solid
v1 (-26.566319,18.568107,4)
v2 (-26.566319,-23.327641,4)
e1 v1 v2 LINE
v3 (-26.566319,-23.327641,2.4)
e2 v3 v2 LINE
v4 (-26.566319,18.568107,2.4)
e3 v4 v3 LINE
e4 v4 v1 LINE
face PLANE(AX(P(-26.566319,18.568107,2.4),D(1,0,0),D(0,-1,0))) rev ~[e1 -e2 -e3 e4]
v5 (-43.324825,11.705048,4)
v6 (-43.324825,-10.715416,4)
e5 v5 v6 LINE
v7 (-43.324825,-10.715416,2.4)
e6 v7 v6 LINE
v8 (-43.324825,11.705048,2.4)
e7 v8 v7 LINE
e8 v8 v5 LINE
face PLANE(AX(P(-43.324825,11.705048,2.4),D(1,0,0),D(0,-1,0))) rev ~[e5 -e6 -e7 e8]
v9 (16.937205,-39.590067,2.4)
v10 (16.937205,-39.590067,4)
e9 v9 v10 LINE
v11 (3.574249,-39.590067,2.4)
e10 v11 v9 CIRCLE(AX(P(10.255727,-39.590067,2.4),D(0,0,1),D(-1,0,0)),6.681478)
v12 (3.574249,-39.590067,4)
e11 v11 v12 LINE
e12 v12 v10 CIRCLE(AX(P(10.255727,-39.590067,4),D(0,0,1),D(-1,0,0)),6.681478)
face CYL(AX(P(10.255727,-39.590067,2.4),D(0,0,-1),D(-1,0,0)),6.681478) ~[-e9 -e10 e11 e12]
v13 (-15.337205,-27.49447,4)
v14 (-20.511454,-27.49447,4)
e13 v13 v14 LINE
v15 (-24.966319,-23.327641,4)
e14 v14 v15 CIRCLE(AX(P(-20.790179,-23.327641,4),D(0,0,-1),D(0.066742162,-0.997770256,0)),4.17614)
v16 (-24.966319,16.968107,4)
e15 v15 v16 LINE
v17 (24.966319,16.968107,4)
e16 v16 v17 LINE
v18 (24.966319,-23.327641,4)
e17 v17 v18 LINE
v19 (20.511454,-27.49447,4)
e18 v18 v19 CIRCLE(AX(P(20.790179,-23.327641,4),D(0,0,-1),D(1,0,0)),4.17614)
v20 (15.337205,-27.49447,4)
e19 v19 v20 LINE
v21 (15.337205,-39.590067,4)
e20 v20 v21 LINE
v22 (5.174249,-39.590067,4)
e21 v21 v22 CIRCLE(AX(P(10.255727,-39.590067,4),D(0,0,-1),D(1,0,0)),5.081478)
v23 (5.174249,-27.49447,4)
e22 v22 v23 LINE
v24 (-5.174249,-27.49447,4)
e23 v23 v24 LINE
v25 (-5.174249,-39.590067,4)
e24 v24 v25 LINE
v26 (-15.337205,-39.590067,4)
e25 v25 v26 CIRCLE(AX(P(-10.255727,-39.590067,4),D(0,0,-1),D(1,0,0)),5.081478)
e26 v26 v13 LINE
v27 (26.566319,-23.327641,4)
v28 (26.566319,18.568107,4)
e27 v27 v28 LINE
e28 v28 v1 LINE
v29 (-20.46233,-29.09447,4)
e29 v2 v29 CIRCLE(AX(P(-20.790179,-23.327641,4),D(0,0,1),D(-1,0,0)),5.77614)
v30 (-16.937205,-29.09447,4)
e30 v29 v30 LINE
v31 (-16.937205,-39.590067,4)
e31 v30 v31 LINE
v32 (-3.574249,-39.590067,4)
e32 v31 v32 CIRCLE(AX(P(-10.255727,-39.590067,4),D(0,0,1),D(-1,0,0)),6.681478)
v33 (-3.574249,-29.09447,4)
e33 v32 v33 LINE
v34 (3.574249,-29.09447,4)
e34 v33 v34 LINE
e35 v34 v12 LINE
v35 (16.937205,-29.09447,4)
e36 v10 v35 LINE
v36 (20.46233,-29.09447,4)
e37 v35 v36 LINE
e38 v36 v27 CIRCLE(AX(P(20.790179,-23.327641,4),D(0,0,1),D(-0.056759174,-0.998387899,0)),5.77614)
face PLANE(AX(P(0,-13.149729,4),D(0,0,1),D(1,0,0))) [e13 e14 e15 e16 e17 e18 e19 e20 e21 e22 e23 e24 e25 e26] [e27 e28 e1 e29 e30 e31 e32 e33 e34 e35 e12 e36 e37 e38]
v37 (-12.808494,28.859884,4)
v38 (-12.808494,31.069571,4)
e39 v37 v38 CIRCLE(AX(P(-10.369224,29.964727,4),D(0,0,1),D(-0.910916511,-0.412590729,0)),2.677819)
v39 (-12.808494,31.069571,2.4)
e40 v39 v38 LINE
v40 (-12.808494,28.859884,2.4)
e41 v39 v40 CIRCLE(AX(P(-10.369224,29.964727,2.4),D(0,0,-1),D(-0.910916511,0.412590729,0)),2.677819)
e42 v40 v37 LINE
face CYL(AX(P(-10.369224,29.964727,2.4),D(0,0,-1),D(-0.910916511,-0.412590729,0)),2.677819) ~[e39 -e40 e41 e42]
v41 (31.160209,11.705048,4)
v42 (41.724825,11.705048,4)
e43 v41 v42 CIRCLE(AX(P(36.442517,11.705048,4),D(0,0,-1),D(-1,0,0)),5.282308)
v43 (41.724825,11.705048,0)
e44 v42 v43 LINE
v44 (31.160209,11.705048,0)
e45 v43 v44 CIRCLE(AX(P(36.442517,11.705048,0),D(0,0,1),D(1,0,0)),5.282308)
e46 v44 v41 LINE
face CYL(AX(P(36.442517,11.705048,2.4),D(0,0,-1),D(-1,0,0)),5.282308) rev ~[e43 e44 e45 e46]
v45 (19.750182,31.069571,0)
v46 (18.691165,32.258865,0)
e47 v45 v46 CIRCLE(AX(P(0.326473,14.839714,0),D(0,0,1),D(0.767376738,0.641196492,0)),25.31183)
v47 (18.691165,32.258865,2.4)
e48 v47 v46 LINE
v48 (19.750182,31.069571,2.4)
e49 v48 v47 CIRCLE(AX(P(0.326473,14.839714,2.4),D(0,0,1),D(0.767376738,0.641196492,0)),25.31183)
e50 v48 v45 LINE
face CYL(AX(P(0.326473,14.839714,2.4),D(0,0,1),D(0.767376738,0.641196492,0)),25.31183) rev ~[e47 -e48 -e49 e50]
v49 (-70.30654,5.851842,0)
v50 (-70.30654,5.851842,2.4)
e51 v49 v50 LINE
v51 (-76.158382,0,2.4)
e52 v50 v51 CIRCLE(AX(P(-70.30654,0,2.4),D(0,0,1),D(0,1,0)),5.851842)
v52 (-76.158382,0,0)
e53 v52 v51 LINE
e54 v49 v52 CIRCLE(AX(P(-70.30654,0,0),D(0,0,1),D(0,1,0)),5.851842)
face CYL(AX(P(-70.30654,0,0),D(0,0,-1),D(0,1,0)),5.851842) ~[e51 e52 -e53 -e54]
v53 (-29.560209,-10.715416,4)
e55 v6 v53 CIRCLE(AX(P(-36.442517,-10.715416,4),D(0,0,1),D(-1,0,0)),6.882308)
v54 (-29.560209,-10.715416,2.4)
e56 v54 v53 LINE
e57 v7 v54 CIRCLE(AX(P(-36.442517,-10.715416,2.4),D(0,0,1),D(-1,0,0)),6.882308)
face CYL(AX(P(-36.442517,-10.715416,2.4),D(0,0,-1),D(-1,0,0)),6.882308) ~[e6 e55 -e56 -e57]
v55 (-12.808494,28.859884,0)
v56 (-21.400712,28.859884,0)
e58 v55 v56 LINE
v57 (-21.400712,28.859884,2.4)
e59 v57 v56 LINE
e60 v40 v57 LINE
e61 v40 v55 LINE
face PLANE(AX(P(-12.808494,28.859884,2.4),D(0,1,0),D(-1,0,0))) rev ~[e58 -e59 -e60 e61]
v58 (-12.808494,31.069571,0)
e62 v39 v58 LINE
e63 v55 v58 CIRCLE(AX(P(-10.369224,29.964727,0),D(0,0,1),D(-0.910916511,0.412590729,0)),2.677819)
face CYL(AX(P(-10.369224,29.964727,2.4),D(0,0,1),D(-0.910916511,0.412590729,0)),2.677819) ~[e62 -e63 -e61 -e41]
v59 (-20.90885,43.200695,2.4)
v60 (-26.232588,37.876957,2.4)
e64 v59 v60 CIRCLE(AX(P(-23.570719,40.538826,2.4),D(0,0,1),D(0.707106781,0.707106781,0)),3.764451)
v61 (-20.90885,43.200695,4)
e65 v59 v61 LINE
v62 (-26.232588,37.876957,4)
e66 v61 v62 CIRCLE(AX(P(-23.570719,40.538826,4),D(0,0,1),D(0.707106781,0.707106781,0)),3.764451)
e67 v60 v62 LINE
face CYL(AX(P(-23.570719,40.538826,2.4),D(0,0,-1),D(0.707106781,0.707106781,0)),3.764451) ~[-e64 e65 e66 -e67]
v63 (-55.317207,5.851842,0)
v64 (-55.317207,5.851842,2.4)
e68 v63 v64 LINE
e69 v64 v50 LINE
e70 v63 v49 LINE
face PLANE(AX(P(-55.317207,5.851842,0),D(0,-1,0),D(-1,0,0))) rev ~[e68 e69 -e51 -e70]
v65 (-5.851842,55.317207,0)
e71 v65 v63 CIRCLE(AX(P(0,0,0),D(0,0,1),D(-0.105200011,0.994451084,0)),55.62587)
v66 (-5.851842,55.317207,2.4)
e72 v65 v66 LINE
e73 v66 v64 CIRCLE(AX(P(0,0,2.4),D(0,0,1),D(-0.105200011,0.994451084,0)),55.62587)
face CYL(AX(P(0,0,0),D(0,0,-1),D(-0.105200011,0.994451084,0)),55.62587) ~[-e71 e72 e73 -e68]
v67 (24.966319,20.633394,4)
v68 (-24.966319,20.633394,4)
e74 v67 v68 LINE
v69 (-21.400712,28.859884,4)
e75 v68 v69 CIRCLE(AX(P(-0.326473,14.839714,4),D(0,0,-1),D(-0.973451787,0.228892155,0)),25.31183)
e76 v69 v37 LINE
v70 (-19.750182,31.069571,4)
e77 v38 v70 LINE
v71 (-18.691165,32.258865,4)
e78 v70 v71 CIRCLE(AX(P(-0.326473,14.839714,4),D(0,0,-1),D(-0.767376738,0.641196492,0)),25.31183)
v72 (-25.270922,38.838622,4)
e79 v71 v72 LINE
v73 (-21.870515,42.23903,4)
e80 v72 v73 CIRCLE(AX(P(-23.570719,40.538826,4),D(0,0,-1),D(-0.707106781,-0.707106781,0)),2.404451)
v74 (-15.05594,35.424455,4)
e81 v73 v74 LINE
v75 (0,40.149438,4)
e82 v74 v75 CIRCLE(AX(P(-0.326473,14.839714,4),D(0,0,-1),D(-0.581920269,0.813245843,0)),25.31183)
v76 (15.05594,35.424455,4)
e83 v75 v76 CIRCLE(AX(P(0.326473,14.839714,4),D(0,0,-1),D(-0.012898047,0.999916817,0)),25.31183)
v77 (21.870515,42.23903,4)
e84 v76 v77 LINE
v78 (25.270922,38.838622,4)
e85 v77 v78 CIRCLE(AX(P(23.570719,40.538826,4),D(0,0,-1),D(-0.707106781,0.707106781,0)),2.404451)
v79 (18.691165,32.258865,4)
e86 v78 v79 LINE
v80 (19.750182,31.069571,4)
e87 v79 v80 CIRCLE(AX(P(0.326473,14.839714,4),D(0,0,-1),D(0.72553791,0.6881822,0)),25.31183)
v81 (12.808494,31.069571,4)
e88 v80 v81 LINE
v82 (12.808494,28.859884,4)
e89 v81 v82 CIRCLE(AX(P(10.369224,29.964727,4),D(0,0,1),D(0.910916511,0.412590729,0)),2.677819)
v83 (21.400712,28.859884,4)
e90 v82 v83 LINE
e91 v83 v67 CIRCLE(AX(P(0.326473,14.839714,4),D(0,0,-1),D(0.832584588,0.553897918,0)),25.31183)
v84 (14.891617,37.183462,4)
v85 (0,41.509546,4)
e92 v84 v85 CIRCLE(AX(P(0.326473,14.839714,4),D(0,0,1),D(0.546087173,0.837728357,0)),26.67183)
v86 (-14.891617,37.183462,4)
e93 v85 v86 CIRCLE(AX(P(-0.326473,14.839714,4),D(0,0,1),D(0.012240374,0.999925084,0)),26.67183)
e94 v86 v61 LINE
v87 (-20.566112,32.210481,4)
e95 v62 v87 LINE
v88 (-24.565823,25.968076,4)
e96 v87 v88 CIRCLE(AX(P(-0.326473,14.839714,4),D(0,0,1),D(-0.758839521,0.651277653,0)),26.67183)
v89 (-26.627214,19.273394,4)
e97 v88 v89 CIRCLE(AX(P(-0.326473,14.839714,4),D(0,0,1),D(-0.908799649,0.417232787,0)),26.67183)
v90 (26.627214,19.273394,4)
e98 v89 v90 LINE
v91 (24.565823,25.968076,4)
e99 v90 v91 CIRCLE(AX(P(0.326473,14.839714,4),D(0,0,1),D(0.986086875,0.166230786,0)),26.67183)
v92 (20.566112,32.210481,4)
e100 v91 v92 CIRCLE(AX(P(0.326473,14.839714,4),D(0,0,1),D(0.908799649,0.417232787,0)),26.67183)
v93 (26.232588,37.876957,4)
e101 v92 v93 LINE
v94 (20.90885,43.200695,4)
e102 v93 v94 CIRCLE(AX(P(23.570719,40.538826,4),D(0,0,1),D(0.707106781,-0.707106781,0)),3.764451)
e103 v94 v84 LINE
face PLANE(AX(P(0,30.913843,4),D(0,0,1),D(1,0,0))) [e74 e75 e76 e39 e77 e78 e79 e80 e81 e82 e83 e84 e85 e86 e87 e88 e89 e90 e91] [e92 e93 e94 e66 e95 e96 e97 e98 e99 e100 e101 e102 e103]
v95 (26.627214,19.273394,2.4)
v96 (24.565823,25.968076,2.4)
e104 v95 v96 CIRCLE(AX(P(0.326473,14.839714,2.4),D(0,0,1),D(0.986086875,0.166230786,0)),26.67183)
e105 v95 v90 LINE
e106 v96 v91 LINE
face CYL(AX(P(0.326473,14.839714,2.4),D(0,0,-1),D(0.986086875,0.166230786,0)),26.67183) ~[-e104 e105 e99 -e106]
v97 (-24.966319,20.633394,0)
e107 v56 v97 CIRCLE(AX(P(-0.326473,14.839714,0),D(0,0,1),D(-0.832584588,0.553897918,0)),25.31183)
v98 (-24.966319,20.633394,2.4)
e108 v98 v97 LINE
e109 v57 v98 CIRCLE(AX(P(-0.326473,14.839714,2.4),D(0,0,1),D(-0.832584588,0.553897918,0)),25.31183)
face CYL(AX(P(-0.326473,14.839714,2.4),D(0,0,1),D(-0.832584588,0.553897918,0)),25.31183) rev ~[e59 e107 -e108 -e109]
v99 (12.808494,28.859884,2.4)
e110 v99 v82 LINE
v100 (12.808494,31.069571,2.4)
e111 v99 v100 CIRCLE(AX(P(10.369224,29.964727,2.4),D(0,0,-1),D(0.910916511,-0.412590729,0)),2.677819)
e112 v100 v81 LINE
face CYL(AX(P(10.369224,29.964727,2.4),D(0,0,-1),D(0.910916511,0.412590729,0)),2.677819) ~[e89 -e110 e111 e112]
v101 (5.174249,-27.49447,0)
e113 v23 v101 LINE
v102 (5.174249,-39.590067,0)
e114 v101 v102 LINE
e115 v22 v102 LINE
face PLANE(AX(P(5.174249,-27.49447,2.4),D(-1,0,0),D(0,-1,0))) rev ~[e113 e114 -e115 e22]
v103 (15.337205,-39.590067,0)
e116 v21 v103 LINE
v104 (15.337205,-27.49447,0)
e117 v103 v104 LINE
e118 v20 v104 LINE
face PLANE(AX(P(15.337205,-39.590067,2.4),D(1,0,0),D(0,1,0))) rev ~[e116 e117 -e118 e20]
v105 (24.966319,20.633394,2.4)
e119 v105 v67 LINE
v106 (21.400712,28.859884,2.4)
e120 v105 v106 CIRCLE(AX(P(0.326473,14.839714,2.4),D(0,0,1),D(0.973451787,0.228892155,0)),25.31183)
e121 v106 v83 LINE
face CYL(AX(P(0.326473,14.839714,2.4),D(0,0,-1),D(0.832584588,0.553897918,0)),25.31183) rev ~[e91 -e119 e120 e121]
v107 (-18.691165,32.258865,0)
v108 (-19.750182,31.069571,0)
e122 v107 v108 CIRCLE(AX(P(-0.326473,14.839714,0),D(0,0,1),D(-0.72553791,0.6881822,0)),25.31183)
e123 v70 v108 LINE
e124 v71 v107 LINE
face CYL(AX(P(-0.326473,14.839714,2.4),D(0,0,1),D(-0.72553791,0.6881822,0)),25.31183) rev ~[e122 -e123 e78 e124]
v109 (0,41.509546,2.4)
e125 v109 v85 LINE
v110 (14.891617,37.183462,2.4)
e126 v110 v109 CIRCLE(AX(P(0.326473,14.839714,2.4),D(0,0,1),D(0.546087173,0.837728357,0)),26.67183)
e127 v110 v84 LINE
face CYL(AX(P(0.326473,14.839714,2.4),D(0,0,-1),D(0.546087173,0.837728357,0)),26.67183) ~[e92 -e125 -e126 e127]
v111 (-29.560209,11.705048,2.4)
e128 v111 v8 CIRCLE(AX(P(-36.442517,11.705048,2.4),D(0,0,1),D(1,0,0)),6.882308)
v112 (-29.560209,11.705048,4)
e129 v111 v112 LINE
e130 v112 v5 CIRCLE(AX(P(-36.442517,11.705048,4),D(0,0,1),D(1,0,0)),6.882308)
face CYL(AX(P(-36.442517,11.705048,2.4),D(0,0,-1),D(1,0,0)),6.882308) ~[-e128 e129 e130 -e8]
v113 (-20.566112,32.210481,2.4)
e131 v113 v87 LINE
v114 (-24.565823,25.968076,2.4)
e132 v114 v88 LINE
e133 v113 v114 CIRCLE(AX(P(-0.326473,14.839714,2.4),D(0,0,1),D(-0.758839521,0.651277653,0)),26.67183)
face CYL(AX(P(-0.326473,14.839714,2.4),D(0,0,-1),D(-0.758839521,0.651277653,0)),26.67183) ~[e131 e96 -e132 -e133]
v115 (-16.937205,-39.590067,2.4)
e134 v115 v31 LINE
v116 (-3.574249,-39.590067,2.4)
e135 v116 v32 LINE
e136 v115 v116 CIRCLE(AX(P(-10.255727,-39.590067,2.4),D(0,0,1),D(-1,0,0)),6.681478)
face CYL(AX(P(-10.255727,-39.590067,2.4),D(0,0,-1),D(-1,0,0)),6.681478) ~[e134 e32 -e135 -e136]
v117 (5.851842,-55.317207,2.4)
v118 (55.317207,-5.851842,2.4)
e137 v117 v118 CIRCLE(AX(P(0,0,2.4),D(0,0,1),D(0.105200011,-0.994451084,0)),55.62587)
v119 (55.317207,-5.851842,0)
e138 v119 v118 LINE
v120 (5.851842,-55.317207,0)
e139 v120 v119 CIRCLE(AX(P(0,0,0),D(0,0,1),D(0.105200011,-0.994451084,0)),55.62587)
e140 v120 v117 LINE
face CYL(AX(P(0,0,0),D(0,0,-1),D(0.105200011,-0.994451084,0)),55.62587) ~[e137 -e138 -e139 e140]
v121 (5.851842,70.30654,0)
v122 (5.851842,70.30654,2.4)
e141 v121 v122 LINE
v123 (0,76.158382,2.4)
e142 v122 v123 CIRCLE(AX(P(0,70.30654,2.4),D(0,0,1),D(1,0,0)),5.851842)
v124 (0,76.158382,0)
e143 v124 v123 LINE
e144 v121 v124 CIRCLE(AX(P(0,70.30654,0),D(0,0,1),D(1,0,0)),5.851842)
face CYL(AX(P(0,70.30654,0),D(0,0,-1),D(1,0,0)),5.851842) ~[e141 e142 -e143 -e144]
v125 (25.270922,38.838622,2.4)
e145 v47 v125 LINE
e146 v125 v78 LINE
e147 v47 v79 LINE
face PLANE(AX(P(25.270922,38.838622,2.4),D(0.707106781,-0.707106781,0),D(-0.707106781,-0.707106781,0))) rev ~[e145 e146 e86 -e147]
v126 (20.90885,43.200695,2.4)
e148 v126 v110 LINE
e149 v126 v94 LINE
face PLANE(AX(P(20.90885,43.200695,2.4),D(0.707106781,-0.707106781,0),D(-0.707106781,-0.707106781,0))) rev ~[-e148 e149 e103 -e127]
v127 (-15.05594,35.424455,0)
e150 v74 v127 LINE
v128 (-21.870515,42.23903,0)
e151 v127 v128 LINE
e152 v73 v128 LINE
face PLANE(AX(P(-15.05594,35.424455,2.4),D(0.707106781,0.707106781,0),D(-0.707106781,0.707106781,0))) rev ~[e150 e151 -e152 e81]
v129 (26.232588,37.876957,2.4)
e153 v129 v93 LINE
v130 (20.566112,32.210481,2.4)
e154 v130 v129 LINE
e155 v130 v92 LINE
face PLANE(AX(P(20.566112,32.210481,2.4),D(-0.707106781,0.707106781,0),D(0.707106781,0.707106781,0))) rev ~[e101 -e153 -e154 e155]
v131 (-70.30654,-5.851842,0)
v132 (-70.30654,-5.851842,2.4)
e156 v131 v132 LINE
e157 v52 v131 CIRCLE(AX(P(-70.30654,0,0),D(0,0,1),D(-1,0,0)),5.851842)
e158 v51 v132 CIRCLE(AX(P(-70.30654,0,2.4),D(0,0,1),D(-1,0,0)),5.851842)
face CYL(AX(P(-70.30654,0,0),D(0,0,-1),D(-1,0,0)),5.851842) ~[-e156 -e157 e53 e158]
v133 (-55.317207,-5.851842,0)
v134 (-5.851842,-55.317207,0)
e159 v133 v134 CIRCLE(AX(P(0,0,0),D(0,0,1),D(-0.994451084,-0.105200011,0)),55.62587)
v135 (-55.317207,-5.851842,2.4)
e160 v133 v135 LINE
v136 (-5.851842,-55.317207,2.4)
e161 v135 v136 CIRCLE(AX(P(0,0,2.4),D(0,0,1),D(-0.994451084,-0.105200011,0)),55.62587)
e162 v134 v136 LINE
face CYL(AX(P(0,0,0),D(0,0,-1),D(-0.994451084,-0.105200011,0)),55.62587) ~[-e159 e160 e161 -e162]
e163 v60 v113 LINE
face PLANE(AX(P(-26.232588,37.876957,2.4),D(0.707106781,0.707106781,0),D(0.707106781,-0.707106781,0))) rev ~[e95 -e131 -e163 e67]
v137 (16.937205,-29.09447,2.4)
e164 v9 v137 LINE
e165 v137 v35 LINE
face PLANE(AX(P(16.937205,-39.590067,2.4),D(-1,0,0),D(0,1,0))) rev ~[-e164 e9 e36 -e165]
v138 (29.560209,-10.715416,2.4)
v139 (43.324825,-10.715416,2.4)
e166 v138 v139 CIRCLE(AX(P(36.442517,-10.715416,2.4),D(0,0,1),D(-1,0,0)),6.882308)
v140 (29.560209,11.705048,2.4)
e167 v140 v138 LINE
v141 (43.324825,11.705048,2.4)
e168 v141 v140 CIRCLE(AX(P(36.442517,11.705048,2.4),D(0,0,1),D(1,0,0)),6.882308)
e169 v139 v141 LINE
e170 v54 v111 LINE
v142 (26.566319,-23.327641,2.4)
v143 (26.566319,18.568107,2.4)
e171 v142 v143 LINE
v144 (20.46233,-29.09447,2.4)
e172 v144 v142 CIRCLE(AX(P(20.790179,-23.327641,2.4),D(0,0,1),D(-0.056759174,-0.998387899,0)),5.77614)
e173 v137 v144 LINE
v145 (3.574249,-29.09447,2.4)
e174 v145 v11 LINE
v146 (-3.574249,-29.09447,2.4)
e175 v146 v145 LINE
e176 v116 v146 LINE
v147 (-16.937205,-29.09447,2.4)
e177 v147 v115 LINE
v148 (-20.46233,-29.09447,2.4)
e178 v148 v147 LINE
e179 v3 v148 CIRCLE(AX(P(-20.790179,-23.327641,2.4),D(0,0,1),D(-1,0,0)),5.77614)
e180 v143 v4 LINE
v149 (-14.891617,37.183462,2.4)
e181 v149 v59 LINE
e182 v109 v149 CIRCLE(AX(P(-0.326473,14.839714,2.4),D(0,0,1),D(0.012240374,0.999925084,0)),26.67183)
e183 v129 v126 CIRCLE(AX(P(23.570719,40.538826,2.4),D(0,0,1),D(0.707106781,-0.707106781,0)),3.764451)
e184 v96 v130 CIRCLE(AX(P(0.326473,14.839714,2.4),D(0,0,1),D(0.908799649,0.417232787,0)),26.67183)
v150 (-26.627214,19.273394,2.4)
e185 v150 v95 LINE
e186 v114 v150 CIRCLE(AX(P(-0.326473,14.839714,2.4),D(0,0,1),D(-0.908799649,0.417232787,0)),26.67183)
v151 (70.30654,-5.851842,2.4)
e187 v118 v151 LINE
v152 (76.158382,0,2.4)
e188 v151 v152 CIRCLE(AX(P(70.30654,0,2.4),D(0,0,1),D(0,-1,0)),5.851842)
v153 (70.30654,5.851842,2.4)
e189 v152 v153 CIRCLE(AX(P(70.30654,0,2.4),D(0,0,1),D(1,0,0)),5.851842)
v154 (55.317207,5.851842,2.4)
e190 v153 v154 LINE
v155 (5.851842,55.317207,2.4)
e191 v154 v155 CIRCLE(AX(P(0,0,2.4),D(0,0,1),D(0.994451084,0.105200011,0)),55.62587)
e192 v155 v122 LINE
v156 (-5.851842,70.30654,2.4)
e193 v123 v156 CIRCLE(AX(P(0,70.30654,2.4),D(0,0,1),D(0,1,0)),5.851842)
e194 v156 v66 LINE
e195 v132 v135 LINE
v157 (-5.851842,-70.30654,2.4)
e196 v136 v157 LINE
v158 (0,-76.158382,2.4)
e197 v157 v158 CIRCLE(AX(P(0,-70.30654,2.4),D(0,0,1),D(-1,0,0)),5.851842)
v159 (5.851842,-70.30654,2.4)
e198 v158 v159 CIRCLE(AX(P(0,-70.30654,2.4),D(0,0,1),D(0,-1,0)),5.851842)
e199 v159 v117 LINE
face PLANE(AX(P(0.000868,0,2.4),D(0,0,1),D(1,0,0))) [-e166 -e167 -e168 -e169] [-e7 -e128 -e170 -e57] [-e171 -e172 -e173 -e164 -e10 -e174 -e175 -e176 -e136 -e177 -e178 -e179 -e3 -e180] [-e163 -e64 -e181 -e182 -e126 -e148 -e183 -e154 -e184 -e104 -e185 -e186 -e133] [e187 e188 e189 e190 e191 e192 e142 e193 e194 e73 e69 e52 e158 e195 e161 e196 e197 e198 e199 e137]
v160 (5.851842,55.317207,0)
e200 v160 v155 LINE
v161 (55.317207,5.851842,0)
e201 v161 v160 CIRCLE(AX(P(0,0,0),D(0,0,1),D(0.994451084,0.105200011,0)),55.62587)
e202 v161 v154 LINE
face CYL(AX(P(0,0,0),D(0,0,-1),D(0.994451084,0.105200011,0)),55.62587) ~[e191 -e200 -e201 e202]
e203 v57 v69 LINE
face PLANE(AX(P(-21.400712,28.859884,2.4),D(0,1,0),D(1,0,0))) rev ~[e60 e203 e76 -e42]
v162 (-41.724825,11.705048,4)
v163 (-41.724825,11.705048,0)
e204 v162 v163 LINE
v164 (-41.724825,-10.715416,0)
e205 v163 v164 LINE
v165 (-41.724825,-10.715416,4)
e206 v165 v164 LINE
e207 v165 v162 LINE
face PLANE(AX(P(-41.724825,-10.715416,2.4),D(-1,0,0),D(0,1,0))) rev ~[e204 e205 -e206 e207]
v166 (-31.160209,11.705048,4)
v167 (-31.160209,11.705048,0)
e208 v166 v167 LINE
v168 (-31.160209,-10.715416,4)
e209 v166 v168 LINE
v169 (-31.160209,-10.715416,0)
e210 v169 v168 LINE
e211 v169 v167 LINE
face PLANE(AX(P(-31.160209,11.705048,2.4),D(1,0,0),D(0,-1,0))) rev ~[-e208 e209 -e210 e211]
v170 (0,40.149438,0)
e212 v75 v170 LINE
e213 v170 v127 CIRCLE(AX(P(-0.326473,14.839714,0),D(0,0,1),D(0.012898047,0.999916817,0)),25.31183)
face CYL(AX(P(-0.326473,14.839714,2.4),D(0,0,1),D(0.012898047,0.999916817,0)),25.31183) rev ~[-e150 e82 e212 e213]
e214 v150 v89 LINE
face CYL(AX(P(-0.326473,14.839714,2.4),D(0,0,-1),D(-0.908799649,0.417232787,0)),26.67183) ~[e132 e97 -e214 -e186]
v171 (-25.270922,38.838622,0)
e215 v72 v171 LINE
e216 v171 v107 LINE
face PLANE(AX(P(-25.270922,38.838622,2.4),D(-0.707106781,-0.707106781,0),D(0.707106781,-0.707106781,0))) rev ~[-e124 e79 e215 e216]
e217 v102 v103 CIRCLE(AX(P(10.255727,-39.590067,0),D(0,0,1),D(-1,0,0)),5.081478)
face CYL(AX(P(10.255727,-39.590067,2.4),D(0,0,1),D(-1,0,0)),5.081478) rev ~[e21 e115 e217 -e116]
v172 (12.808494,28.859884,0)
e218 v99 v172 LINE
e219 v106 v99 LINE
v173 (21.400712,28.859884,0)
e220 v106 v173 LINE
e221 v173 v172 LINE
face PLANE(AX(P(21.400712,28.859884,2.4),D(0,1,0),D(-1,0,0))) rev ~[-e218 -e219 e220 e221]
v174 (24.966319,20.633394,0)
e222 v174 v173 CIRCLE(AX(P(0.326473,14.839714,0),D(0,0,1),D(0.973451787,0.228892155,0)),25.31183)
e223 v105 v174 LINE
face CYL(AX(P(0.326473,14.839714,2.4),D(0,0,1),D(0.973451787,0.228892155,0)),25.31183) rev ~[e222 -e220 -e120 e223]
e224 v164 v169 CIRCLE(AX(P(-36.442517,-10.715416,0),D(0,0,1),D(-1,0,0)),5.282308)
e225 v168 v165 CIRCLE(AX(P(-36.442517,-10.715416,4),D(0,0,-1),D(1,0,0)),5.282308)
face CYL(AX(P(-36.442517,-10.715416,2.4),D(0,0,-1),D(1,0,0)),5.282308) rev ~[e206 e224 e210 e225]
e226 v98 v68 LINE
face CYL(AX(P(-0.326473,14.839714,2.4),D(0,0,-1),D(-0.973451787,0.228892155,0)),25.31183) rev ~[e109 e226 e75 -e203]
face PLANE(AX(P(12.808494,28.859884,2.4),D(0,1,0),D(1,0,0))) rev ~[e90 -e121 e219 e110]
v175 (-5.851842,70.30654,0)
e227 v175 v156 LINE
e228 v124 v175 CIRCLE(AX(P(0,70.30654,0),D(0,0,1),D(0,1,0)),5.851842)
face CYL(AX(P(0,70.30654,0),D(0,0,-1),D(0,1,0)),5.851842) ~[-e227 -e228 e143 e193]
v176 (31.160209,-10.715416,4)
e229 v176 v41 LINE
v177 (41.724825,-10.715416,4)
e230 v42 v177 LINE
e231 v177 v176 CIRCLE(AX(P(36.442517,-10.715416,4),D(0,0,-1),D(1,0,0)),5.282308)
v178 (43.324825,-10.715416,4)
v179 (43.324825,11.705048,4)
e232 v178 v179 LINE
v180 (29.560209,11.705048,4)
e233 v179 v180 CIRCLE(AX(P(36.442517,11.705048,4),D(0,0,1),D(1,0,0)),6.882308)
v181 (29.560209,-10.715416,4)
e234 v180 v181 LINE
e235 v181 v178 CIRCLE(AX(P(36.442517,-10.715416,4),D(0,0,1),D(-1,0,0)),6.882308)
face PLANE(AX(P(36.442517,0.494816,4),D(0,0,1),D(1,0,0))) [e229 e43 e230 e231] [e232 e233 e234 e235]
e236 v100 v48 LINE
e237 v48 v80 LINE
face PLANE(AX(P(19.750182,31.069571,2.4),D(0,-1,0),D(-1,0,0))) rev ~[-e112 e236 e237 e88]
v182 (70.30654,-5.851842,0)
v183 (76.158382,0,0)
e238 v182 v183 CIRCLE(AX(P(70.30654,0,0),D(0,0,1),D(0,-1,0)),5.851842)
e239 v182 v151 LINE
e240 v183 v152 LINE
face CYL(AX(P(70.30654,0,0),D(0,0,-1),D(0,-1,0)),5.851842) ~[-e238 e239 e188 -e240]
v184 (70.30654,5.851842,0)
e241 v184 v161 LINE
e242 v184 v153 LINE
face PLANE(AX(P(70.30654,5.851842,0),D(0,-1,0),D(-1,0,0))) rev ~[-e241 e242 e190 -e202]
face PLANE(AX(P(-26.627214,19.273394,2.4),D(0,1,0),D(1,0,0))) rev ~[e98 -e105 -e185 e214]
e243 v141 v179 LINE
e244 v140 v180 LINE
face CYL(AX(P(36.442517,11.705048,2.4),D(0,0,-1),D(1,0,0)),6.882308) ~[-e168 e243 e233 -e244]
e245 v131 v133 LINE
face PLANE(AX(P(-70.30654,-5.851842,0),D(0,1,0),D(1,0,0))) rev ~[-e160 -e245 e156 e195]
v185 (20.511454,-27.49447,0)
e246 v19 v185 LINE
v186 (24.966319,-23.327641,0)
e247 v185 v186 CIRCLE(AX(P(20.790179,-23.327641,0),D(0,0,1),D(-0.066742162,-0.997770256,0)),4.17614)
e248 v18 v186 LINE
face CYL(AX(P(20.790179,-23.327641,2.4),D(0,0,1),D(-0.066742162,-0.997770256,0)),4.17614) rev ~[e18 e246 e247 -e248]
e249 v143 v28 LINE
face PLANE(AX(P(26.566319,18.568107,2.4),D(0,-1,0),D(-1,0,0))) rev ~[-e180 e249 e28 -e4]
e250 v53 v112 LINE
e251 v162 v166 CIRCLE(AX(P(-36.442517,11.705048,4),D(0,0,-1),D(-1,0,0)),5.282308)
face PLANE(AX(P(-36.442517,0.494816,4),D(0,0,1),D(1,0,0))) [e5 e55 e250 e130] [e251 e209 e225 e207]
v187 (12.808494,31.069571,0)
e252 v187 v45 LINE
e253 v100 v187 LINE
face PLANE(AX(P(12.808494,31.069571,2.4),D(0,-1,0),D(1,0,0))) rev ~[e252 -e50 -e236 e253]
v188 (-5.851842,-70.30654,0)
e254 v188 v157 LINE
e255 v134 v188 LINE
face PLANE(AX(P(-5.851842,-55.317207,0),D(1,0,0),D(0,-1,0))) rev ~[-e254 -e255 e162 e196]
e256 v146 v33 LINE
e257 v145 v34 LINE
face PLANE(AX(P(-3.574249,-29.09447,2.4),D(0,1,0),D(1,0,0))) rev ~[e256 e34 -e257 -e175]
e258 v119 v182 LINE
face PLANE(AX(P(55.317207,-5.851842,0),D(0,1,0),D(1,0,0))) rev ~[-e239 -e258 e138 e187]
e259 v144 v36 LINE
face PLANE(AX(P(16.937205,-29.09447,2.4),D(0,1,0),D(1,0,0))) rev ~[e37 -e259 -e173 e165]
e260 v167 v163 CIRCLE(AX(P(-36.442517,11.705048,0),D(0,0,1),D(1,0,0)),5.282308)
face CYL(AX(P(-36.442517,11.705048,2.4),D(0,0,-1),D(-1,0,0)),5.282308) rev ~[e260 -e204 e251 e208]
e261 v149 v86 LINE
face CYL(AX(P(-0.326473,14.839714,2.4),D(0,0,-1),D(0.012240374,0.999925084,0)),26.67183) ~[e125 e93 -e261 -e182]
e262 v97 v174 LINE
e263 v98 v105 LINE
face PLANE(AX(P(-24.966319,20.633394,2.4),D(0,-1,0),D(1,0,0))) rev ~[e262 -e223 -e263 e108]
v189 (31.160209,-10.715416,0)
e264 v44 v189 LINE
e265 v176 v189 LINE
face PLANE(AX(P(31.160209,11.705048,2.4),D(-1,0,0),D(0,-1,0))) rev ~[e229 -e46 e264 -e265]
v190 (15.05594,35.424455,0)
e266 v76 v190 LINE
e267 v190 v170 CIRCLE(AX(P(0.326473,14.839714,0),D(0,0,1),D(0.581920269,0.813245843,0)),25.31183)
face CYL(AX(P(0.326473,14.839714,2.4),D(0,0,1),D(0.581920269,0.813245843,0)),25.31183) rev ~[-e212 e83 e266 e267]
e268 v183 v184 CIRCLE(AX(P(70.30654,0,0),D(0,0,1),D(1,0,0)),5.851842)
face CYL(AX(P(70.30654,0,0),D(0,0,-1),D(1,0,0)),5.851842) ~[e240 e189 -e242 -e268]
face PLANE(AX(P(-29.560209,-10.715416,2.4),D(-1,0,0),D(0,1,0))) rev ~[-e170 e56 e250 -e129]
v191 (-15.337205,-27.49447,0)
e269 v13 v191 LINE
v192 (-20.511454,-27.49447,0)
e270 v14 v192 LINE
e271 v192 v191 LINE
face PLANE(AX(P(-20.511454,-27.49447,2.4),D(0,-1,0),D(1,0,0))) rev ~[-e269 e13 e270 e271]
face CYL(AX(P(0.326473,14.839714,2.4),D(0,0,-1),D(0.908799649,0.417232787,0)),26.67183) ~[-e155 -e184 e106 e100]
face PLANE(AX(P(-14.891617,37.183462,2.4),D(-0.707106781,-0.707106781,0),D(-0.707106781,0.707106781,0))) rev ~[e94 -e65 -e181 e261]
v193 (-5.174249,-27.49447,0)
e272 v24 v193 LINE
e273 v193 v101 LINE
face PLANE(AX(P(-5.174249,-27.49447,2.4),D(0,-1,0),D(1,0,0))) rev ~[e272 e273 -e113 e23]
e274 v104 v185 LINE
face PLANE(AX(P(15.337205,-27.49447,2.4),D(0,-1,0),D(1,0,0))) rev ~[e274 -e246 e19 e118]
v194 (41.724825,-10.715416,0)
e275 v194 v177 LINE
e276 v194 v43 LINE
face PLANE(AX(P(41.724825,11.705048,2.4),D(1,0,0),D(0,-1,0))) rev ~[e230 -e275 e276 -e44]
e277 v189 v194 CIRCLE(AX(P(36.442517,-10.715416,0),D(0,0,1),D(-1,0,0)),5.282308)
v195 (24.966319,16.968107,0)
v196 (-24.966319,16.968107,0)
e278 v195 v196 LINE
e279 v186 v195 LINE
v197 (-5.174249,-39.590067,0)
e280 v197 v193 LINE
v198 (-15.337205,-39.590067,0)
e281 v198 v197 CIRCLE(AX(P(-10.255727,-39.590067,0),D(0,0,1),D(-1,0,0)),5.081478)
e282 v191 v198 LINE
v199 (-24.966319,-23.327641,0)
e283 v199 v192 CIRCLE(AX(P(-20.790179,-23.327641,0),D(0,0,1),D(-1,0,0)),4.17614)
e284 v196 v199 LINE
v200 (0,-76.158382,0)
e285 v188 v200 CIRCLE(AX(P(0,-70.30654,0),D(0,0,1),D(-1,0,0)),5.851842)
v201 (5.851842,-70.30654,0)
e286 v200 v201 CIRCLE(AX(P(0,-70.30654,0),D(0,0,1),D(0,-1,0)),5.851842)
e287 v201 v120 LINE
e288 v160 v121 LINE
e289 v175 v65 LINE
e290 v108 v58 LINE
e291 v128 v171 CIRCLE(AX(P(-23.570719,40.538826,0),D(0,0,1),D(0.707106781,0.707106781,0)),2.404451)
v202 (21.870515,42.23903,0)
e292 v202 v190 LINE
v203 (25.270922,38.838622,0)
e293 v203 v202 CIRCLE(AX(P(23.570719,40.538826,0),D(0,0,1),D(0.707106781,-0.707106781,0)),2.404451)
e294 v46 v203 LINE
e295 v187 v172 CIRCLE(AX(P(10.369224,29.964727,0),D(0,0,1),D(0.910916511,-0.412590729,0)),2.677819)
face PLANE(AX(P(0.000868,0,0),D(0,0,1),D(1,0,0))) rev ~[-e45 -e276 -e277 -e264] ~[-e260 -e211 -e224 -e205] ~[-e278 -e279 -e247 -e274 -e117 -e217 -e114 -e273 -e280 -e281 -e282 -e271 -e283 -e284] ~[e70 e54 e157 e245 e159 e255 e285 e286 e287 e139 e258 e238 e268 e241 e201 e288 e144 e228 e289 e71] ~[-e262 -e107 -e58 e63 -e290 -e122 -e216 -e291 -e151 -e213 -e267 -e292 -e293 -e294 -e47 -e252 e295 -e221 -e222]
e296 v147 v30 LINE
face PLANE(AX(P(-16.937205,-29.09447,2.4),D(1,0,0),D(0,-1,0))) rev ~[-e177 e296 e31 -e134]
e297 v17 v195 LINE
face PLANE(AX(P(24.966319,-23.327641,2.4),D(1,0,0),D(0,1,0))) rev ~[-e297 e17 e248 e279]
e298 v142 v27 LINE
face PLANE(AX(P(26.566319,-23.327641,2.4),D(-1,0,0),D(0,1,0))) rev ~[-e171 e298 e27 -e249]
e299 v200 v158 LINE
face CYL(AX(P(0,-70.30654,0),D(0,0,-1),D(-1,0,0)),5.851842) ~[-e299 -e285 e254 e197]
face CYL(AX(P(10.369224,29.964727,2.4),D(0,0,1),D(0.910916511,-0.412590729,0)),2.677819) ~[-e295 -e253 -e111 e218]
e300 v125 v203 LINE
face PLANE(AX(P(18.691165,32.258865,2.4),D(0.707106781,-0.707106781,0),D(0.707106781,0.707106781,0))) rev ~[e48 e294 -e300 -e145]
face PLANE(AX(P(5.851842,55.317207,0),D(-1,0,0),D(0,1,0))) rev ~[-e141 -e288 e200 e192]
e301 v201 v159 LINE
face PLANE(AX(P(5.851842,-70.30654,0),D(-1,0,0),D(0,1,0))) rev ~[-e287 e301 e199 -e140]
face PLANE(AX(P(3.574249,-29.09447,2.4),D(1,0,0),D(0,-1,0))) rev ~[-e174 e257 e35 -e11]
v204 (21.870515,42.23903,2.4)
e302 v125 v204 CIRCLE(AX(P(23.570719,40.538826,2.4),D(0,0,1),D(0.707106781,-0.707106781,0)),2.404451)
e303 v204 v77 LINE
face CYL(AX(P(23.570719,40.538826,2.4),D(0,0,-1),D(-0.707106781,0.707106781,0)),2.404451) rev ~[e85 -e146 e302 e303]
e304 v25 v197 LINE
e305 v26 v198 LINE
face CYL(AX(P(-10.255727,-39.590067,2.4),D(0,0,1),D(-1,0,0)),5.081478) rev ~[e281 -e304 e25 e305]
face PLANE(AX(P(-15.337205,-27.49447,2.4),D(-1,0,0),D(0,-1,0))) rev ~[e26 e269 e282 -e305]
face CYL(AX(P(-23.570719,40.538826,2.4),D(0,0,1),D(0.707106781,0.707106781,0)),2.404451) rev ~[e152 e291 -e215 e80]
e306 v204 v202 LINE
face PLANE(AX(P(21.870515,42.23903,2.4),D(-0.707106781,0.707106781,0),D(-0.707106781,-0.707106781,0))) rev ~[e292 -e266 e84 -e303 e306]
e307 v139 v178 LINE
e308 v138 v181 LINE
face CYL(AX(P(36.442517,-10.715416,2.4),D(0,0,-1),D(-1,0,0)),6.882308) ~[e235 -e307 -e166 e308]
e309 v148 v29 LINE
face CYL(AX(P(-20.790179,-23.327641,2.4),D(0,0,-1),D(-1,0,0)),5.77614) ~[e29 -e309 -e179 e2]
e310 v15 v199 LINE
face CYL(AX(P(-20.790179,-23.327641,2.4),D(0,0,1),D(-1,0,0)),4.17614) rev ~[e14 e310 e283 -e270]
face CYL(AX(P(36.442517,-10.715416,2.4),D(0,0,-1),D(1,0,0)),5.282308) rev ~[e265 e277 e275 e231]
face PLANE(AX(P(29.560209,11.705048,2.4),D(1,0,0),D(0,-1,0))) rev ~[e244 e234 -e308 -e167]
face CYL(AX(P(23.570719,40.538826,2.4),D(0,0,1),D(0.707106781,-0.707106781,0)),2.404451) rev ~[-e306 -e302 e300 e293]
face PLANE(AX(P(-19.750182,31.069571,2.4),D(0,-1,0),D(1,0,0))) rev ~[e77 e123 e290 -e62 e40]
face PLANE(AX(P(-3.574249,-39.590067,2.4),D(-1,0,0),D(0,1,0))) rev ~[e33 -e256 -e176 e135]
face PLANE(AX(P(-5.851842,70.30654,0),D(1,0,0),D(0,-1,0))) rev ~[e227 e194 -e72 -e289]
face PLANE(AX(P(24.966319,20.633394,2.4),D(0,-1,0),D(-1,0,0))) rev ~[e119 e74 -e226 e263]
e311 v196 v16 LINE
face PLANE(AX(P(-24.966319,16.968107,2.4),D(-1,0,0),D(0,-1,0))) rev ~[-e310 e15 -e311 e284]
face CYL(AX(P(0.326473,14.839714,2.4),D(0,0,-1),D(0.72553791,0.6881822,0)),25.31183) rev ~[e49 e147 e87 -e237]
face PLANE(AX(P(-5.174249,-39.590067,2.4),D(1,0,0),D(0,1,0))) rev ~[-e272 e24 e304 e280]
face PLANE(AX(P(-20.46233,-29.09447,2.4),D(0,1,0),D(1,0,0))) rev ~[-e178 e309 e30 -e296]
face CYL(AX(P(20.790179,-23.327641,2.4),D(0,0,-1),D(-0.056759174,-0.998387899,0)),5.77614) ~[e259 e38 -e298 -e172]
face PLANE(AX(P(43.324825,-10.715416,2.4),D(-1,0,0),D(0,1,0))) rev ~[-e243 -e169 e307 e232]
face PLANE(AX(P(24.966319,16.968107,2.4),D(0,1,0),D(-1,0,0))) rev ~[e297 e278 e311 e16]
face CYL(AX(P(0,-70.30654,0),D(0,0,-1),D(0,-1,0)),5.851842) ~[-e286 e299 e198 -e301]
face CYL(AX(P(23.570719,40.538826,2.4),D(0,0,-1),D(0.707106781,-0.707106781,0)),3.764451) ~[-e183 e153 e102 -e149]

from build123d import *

# Parameters (mm, degrees)
F1_DEPTH = 3
F3_DEPTH = 25
F5_DEPTH = 2
F6_SCALE = 0.8


with BuildPart() as f1:
    # F0 (on Top) → F1 (new body)
    with BuildSketch(Plane.XY):
        with BuildLine():
            ThreePointArc((69.1465082783, -7.3148026297), (69.4358131239, -3.6624855503), (69.532337402, 0))
            ThreePointArc((69.532337402, 0), (69.4358131239, 3.6624855503), (69.1465082783, 7.3148026297))
            ThreePointArc((69.1465082783, 7.3148026297), (49.1667872887, 49.1667872887), (7.3148026297, 69.1465082783))
            ThreePointArc((7.3148026297, 69.1465082783), (0, 69.532337402), (-7.3148026297, 69.1465082783))
            ThreePointArc((-7.3148026297, 69.1465082783), (-49.1667872887, 49.1667872887), (-69.1465082783, 7.3148026297))
            ThreePointArc((-69.1465082783, 7.3148026297), (-69.532337402, 0), (-69.1465082783, -7.3148026297))
            ThreePointArc((-69.1465082783, -7.3148026297), (-49.1667872887, -49.1667872887), (-7.3148026297, -69.1465082783))
            ThreePointArc((-7.3148026297, -69.1465082783), (0, -69.532337402), (7.3148026297, -69.1465082783))
            ThreePointArc((7.3148026297, -69.1465082783), (49.1667872887, -49.1667872887), (69.1465082783, -7.3148026297))
        make_face()
        with BuildLine():
            ThreePointArc((69.1465082783, 7.3148026297), (69.4358131239, 3.6624855503), (69.532337402, 0))
            ThreePointArc((69.532337402, 0), (69.4358131239, -3.6624855503), (69.1465082783, -7.3148026297))
            Line((69.1465082783, -7.3148026297), (87.8831749798, -7.3148026297))
            ThreePointArc((87.8831749798, -7.3148026297), (93.0555215223, -5.1723465425), (95.1979776095, 0))
            ThreePointArc((95.1979776095, 0), (93.0555215223, 5.1723465425), (87.8831749798, 7.3148026297))
            Line((87.8831749798, 7.3148026297), (69.1465082783, 7.3148026297))
        make_face()
        with BuildLine():
            ThreePointArc((-7.3148026297, 69.1465082783), (0, 69.532337402), (7.3148026297, 69.1465082783))
            Line((7.3148026297, 69.1465082783), (7.3148026297, 87.8831749798))
            ThreePointArc((7.3148026297, 87.8831749798), (5.1723465425, 93.0555215223), (0, 95.1979776095))
            ThreePointArc((0, 95.1979776095), (-5.1723465425, 93.0555215223), (-7.3148026297, 87.8831749798))
            Line((-7.3148026297, 87.8831749798), (-7.3148026297, 69.1465082783))
        make_face()
        with BuildLine():
            Line((7.3148026297, -87.8831749798), (7.3148026297, -69.1465082783))
            ThreePointArc((7.3148026297, -69.1465082783), (0, -69.532337402), (-7.3148026297, -69.1465082783))
            Line((-7.3148026297, -69.1465082783), (-7.3148026297, -87.8831749798))
            ThreePointArc((-7.3148026297, -87.8831749798), (-5.1723465425, -93.0555215223), (0, -95.1979776095))
            ThreePointArc((0, -95.1979776095), (5.1723465425, -93.0555215223), (7.3148026297, -87.8831749798))
        make_face()
        with BuildLine():
            ThreePointArc((-69.1465082783, -7.3148026297), (-69.532337402, 0), (-69.1465082783, 7.3148026297))
            Line((-69.1465082783, 7.3148026297), (-87.8831749798, 7.3148026297))
            ThreePointArc((-87.8831749798, 7.3148026297), (-93.0555215223, 5.1723465425), (-95.1979776095, 0))
            ThreePointArc((-95.1979776095, 0), (-93.0555215223, -5.1723465425), (-87.8831749798, -7.3148026297))
            Line((-87.8831749798, -7.3148026297), (-69.1465082783, -7.3148026297))
        make_face()
    extrude(amount=F1_DEPTH)

    # F2 (on face) → F3 (cut)
    with BuildSketch(Plane.XY.offset(3)):
        with BuildLine():
            ThreePointArc((-38.9502607286, 14.6313095465), (-45.5531459302, 21.2341947481), (-52.1560311317, 14.6313095465))
            Line((-52.1560311317, 14.6313095465), (-52.1560311317, -13.3942700922))
            ThreePointArc((-52.1560311317, -13.3942700922), (-45.5531459302, -19.9971552938), (-38.9502607286, -13.3942700922))
            Line((-38.9502607286, -13.3942700922), (-38.9502607286, 14.6313095465))
        make_face()
        with BuildLine():
            Line((0, 21.2101340294), (-31.2078986317, 21.2101340294))
            Line((-31.2078986317, 21.2101340294), (-31.2078986317, -29.1595514864))
            ThreePointArc((-31.2078986317, -29.1595514864), (-29.5536377946, -32.97196325), (-25.6393177885, -34.3680869058))
            Line((-25.6393177885, -34.3680869058), (-19.1715068486, -34.3680869058))
            Line((-19.1715068486, -34.3680869058), (-19.1715068486, -49.4875834141))
            ThreePointArc((-19.1715068486, -49.4875834141), (-12.8196588942, -55.8394313684), (-6.4678109399, -49.4875834141))
            Line((-6.4678109399, -49.4875834141), (-6.4678109399, -34.3680869058))
            Line((-6.4678109399, -34.3680869058), (0, -34.3680869058))
            Line((0, -34.3680869058), (6.4678109399, -34.3680869058))
            Line((6.4678109399, -34.3680869058), (6.4678109399, -49.4875834141))
            ThreePointArc((6.4678109399, -49.4875834141), (12.8196588942, -55.8394313684), (19.1715068486, -49.4875834141))
            Line((19.1715068486, -49.4875834141), (19.1715068486, -34.3680869058))
            Line((19.1715068486, -34.3680869058), (25.6393177885, -34.3680869058))
            ThreePointArc((25.6393177885, -34.3680869058), (29.5536377946, -32.97196325), (31.2078986317, -29.1595514864))
            Line((31.2078986317, -29.1595514864), (31.2078986317, 21.2101340294))
            Line((31.2078986317, 21.2101340294), (0, 21.2101340294))
        make_face()
        with BuildLine():
            ThreePointArc((38.9502607286, -13.3942700922), (45.5531459302, -19.9971552938), (52.1560311317, -13.3942700922))
            Line((52.1560311317, -13.3942700922), (52.1560311317, 14.6313095465))
            ThreePointArc((52.1560311317, 14.6313095465), (45.5531459302, 21.2341947481), (38.9502607286, 14.6313095465))
            Line((38.9502607286, 14.6313095465), (38.9502607286, -13.3942700922))
        make_face()
        with BuildLine():
            ThreePointArc((18.8199247983, 44.2805681259), (9.8819802161, 48.7377457179), (0, 50.1867979765))
            ThreePointArc((0, 50.1867979765), (-9.8819802161, 48.7377457179), (-18.8199247983, 44.2805681259))
            Line((-18.8199247983, 44.2805681259), (-27.3381436975, 52.7987870252))
            ThreePointArc((-27.3381436975, 52.7987870252), (-31.5886529958, 52.7987870252), (-31.5886529958, 48.5482777269))
            Line((-31.5886529958, 48.5482777269), (-23.3639563844, 40.3235811155))
            ThreePointArc((-23.3639563844, 40.3235811155), (-24.0375361692, 39.5906852357), (-24.6877279792, 38.8369633325))
            Line((-24.6877279792, 38.8369633325), (-16.0106173244, 38.8369633325))
            ThreePointArc((-16.0106173244, 38.8369633325), (-9.6142565188, 37.4559091891), (-16.0106173244, 36.0748550456))
            Line((-16.0106173244, 36.0748550456), (-26.7508904588, 36.0748550456))
            ThreePointArc((-26.7508904588, 36.0748550456), (-29.4383336901, 31.1322164007), (-31.2078986317, 25.7917419076))
            Line((-31.2078986317, 25.7917419076), (0, 25.7917419076))
            Line((0, 25.7917419076), (31.2078986317, 25.7917419076))
            ThreePointArc((31.2078986317, 25.7917419076), (29.4383336901, 31.1322164007), (26.7508904588, 36.0748550456))
            Line((26.7508904588, 36.0748550456), (16.0106173244, 36.0748550456))
            ThreePointArc((16.0106173244, 36.0748550456), (9.6142565188, 37.4559091891), (16.0106173244, 38.8369633325))
            Line((16.0106173244, 38.8369633325), (24.6877279792, 38.8369633325))
            ThreePointArc((24.6877279792, 38.8369633325), (24.0375361692, 39.5906852357), (23.3639563844, 40.3235811155))
            Line((23.3639563844, 40.3235811155), (31.5886529958, 48.5482777269))
            ThreePointArc((31.5886529958, 48.5482777269), (31.5886529958, 52.7987870252), (27.3381436975, 52.7987870252))
            Line((27.3381436975, 52.7987870252), (18.8199247983, 44.2805681259))
        make_face()
    extrude(amount=-F3_DEPTH, mode=Mode.SUBTRACT)

    # F4 (on face) → F5 (join)
    with BuildSketch(Plane.XY.offset(3)):
        with BuildLine():
            Line((-36.9502607286, -13.3942700922), (-36.9502607286, 14.6313095465))
            ThreePointArc((-36.9502607286, 14.6313095465), (-45.5531459302, 23.2341947481), (-54.1560311317, 14.6313095465))
            Line((-54.1560311317, 14.6313095465), (-54.1560311317, -13.3942700922))
            ThreePointArc((-54.1560311317, -13.3942700922), (-45.5531459302, -21.9971552938), (-36.9502607286, -13.3942700922))
        make_face()
        with BuildLine():
            ThreePointArc((-38.9502607286, -13.3942700922), (-45.5531459302, -19.9971552938), (-52.1560311317, -13.3942700922))
            Line((-52.1560311317, -13.3942700922), (-52.1560311317, 14.6313095465))
            ThreePointArc((-52.1560311317, 14.6313095465), (-45.5531459302, 21.2341947481), (-38.9502607286, 14.6313095465))
            Line((-38.9502607286, 14.6313095465), (-38.9502607286, -13.3942700922))
        make_face(mode=Mode.SUBTRACT)
        with BuildLine():
            Line((33.2078986317, -29.1595514864), (33.2078986317, 23.2101340294))
            Line((33.2078986317, 23.2101340294), (-33.2078986317, 23.2101340294))
            Line((-33.2078986317, 23.2101340294), (-33.2078986317, -29.1595514864))
            ThreePointArc((-33.2078986317, -29.1595514864), (-30.9461517209, -34.4078767665), (-25.5779123872, -36.3680869058))
            Line((-25.5779123872, -36.3680869058), (-21.1715068486, -36.3680869058))
            Line((-21.1715068486, -36.3680869058), (-21.1715068486, -49.4875834141))
            ThreePointArc((-21.1715068486, -49.4875834141), (-12.8196588942, -57.8394313684), (-4.4678109399, -49.4875834141))
            Line((-4.4678109399, -49.4875834141), (-4.4678109399, -36.3680869058))
            Line((-4.4678109399, -36.3680869058), (4.4678109399, -36.3680869058))
            Line((4.4678109399, -36.3680869058), (4.4678109399, -49.4875834141))
            ThreePointArc((4.4678109399, -49.4875834141), (12.8196588942, -57.8394313684), (21.1715068486, -49.4875834141))
            Line((21.1715068486, -49.4875834141), (21.1715068486, -36.3680869058))
            Line((21.1715068486, -36.3680869058), (25.5779123872, -36.3680869058))
            ThreePointArc((25.5779123872, -36.3680869058), (30.9461517209, -34.4078767665), (33.2078986317, -29.1595514864))
        make_face()
        with BuildLine():
            Line((31.2078986317, 21.2101340294), (31.2078986317, -29.1595514864))
            ThreePointArc((31.2078986317, -29.1595514864), (29.5536377946, -32.97196325), (25.6393177885, -34.3680869058))
            Line((25.6393177885, -34.3680869058), (19.1715068486, -34.3680869058))
            Line((19.1715068486, -34.3680869058), (19.1715068486, -49.4875834141))
            ThreePointArc((19.1715068486, -49.4875834141), (12.8196588942, -55.8394313684), (6.4678109399, -49.4875834141))
            Line((6.4678109399, -49.4875834141), (6.4678109399, -34.3680869058))
            Line((6.4678109399, -34.3680869058), (-6.4678109399, -34.3680869058))
            Line((-6.4678109399, -34.3680869058), (-6.4678109399, -49.4875834141))
            ThreePointArc((-6.4678109399, -49.4875834141), (-12.8196588942, -55.8394313684), (-19.1715068486, -49.4875834141))
            Line((-19.1715068486, -49.4875834141), (-19.1715068486, -34.3680869058))
            Line((-19.1715068486, -34.3680869058), (-25.6393177885, -34.3680869058))
            ThreePointArc((-25.6393177885, -34.3680869058), (-29.5536377946, -32.97196325), (-31.2078986317, -29.1595514864))
            Line((-31.2078986317, -29.1595514864), (-31.2078986317, 21.2101340294))
            Line((-31.2078986317, 21.2101340294), (31.2078986317, 21.2101340294))
        make_face(mode=Mode.SUBTRACT)
        with BuildLine():
            ThreePointArc((54.1560311317, 14.6313095465), (45.5531459302, 23.2341947481), (36.9502607286, 14.6313095465))
            Line((36.9502607286, 14.6313095465), (36.9502607286, -13.3942700922))
            ThreePointArc((36.9502607286, -13.3942700922), (45.5531459302, -21.9971552938), (54.1560311317, -13.3942700922))
            Line((54.1560311317, -13.3942700922), (54.1560311317, 14.6313095465))
        make_face()
        with BuildLine():
            Line((38.9502607286, -13.3942700922), (38.9502607286, 14.6313095465))
            ThreePointArc((38.9502607286, 14.6313095465), (45.5531459302, 21.2341947481), (52.1560311317, 14.6313095465))
            Line((52.1560311317, 14.6313095465), (52.1560311317, -13.3942700922))
            ThreePointArc((52.1560311317, -13.3942700922), (45.5531459302, -19.9971552938), (38.9502607286, -13.3942700922))
        make_face(mode=Mode.SUBTRACT)
        with BuildLine():
            ThreePointArc((-25.707639439, 40.2631011141), (-28.4799020501, 36.5361613442), (-30.7072781513, 32.4600951356))
            ThreePointArc((-30.7072781513, 32.4600951356), (-32.2715668081, 28.3608780057), (-33.284017822, 24.0917419076))
            Line((-33.284017822, 24.0917419076), (33.284017822, 24.0917419076))
            ThreePointArc((33.284017822, 24.0917419076), (32.2715668081, 28.3608780057), (30.7072781513, 32.4600951356))
            ThreePointArc((30.7072781513, 32.4600951356), (28.4799020501, 36.5361613442), (25.707639439, 40.2631011141))
            Line((25.707639439, 40.2631011141), (32.7907345238, 47.3461961989))
            ThreePointArc((32.7907345238, 47.3461961989), (32.7907345238, 54.0008685532), (26.1360621695, 54.0008685532))
            Line((26.1360621695, 54.0008685532), (18.6145214728, 46.4793278565))
            ThreePointArc((18.6145214728, 46.4793278565), (9.708938731, 50.565820618), (0, 51.8869321878))
            ThreePointArc((0, 51.8869321878), (-9.708938731, 50.565820618), (-18.6145214728, 46.4793278565))
            Line((-18.6145214728, 46.4793278565), (-26.1360621695, 54.0008685532))
            ThreePointArc((-26.1360621695, 54.0008685532), (-32.7907345238, 54.0008685532), (-32.7907345238, 47.3461961989))
            Line((-32.7907345238, 47.3461961989), (-25.707639439, 40.2631011141))
        make_face()
        with BuildLine():
            ThreePointArc((16.0106173244, 38.8369633325), (9.6142565188, 37.4559091891), (16.0106173244, 36.0748550456))
            Line((16.0106173244, 36.0748550456), (26.7508904588, 36.0748550456))
            ThreePointArc((26.7508904588, 36.0748550456), (29.4383336901, 31.1322164007), (31.2078986317, 25.7917419076))
            Line((31.2078986317, 25.7917419076), (-31.2078986317, 25.7917419076))
            ThreePointArc((-31.2078986317, 25.7917419076), (-29.4383336901, 31.1322164007), (-26.7508904588, 36.0748550456))
            Line((-26.7508904588, 36.0748550456), (-16.0106173244, 36.0748550456))
            ThreePointArc((-16.0106173244, 36.0748550456), (-9.6142565188, 37.4559091891), (-16.0106173244, 38.8369633325))
            Line((-16.0106173244, 38.8369633325), (-24.6877279792, 38.8369633325))
            ThreePointArc((-24.6877279792, 38.8369633325), (-24.0375361692, 39.5906852357), (-23.3639563844, 40.3235811155))
            Line((-23.3639563844, 40.3235811155), (-31.5886529958, 48.5482777269))
            ThreePointArc((-31.5886529958, 48.5482777269), (-31.5886529958, 52.7987870252), (-27.3381436975, 52.7987870252))
            Line((-27.3381436975, 52.7987870252), (-18.8199247983, 44.2805681259))
            ThreePointArc((-18.8199247983, 44.2805681259), (-9.8819802161, 48.7377457179), (0, 50.1867979765))
            ThreePointArc((0, 50.1867979765), (9.8819802161, 48.7377457179), (18.8199247983, 44.2805681259))
            Line((18.8199247983, 44.2805681259), (27.3381436975, 52.7987870252))
            ThreePointArc((27.3381436975, 52.7987870252), (31.5886529958, 52.7987870252), (31.5886529958, 48.5482777269))
            Line((31.5886529958, 48.5482777269), (23.3639563844, 40.3235811155))
            ThreePointArc((23.3639563844, 40.3235811155), (24.0375361692, 39.5906852357), (24.6877279792, 38.8369633325))
            Line((24.6877279792, 38.8369633325), (16.0106173244, 38.8369633325))
        make_face(mode=Mode.SUBTRACT)
    extrude(amount=F5_DEPTH)


with BuildPart() as f1_1:
    # F6: moved
    add(f1.part.scale(F6_SCALE))


solid = f1_1.part
